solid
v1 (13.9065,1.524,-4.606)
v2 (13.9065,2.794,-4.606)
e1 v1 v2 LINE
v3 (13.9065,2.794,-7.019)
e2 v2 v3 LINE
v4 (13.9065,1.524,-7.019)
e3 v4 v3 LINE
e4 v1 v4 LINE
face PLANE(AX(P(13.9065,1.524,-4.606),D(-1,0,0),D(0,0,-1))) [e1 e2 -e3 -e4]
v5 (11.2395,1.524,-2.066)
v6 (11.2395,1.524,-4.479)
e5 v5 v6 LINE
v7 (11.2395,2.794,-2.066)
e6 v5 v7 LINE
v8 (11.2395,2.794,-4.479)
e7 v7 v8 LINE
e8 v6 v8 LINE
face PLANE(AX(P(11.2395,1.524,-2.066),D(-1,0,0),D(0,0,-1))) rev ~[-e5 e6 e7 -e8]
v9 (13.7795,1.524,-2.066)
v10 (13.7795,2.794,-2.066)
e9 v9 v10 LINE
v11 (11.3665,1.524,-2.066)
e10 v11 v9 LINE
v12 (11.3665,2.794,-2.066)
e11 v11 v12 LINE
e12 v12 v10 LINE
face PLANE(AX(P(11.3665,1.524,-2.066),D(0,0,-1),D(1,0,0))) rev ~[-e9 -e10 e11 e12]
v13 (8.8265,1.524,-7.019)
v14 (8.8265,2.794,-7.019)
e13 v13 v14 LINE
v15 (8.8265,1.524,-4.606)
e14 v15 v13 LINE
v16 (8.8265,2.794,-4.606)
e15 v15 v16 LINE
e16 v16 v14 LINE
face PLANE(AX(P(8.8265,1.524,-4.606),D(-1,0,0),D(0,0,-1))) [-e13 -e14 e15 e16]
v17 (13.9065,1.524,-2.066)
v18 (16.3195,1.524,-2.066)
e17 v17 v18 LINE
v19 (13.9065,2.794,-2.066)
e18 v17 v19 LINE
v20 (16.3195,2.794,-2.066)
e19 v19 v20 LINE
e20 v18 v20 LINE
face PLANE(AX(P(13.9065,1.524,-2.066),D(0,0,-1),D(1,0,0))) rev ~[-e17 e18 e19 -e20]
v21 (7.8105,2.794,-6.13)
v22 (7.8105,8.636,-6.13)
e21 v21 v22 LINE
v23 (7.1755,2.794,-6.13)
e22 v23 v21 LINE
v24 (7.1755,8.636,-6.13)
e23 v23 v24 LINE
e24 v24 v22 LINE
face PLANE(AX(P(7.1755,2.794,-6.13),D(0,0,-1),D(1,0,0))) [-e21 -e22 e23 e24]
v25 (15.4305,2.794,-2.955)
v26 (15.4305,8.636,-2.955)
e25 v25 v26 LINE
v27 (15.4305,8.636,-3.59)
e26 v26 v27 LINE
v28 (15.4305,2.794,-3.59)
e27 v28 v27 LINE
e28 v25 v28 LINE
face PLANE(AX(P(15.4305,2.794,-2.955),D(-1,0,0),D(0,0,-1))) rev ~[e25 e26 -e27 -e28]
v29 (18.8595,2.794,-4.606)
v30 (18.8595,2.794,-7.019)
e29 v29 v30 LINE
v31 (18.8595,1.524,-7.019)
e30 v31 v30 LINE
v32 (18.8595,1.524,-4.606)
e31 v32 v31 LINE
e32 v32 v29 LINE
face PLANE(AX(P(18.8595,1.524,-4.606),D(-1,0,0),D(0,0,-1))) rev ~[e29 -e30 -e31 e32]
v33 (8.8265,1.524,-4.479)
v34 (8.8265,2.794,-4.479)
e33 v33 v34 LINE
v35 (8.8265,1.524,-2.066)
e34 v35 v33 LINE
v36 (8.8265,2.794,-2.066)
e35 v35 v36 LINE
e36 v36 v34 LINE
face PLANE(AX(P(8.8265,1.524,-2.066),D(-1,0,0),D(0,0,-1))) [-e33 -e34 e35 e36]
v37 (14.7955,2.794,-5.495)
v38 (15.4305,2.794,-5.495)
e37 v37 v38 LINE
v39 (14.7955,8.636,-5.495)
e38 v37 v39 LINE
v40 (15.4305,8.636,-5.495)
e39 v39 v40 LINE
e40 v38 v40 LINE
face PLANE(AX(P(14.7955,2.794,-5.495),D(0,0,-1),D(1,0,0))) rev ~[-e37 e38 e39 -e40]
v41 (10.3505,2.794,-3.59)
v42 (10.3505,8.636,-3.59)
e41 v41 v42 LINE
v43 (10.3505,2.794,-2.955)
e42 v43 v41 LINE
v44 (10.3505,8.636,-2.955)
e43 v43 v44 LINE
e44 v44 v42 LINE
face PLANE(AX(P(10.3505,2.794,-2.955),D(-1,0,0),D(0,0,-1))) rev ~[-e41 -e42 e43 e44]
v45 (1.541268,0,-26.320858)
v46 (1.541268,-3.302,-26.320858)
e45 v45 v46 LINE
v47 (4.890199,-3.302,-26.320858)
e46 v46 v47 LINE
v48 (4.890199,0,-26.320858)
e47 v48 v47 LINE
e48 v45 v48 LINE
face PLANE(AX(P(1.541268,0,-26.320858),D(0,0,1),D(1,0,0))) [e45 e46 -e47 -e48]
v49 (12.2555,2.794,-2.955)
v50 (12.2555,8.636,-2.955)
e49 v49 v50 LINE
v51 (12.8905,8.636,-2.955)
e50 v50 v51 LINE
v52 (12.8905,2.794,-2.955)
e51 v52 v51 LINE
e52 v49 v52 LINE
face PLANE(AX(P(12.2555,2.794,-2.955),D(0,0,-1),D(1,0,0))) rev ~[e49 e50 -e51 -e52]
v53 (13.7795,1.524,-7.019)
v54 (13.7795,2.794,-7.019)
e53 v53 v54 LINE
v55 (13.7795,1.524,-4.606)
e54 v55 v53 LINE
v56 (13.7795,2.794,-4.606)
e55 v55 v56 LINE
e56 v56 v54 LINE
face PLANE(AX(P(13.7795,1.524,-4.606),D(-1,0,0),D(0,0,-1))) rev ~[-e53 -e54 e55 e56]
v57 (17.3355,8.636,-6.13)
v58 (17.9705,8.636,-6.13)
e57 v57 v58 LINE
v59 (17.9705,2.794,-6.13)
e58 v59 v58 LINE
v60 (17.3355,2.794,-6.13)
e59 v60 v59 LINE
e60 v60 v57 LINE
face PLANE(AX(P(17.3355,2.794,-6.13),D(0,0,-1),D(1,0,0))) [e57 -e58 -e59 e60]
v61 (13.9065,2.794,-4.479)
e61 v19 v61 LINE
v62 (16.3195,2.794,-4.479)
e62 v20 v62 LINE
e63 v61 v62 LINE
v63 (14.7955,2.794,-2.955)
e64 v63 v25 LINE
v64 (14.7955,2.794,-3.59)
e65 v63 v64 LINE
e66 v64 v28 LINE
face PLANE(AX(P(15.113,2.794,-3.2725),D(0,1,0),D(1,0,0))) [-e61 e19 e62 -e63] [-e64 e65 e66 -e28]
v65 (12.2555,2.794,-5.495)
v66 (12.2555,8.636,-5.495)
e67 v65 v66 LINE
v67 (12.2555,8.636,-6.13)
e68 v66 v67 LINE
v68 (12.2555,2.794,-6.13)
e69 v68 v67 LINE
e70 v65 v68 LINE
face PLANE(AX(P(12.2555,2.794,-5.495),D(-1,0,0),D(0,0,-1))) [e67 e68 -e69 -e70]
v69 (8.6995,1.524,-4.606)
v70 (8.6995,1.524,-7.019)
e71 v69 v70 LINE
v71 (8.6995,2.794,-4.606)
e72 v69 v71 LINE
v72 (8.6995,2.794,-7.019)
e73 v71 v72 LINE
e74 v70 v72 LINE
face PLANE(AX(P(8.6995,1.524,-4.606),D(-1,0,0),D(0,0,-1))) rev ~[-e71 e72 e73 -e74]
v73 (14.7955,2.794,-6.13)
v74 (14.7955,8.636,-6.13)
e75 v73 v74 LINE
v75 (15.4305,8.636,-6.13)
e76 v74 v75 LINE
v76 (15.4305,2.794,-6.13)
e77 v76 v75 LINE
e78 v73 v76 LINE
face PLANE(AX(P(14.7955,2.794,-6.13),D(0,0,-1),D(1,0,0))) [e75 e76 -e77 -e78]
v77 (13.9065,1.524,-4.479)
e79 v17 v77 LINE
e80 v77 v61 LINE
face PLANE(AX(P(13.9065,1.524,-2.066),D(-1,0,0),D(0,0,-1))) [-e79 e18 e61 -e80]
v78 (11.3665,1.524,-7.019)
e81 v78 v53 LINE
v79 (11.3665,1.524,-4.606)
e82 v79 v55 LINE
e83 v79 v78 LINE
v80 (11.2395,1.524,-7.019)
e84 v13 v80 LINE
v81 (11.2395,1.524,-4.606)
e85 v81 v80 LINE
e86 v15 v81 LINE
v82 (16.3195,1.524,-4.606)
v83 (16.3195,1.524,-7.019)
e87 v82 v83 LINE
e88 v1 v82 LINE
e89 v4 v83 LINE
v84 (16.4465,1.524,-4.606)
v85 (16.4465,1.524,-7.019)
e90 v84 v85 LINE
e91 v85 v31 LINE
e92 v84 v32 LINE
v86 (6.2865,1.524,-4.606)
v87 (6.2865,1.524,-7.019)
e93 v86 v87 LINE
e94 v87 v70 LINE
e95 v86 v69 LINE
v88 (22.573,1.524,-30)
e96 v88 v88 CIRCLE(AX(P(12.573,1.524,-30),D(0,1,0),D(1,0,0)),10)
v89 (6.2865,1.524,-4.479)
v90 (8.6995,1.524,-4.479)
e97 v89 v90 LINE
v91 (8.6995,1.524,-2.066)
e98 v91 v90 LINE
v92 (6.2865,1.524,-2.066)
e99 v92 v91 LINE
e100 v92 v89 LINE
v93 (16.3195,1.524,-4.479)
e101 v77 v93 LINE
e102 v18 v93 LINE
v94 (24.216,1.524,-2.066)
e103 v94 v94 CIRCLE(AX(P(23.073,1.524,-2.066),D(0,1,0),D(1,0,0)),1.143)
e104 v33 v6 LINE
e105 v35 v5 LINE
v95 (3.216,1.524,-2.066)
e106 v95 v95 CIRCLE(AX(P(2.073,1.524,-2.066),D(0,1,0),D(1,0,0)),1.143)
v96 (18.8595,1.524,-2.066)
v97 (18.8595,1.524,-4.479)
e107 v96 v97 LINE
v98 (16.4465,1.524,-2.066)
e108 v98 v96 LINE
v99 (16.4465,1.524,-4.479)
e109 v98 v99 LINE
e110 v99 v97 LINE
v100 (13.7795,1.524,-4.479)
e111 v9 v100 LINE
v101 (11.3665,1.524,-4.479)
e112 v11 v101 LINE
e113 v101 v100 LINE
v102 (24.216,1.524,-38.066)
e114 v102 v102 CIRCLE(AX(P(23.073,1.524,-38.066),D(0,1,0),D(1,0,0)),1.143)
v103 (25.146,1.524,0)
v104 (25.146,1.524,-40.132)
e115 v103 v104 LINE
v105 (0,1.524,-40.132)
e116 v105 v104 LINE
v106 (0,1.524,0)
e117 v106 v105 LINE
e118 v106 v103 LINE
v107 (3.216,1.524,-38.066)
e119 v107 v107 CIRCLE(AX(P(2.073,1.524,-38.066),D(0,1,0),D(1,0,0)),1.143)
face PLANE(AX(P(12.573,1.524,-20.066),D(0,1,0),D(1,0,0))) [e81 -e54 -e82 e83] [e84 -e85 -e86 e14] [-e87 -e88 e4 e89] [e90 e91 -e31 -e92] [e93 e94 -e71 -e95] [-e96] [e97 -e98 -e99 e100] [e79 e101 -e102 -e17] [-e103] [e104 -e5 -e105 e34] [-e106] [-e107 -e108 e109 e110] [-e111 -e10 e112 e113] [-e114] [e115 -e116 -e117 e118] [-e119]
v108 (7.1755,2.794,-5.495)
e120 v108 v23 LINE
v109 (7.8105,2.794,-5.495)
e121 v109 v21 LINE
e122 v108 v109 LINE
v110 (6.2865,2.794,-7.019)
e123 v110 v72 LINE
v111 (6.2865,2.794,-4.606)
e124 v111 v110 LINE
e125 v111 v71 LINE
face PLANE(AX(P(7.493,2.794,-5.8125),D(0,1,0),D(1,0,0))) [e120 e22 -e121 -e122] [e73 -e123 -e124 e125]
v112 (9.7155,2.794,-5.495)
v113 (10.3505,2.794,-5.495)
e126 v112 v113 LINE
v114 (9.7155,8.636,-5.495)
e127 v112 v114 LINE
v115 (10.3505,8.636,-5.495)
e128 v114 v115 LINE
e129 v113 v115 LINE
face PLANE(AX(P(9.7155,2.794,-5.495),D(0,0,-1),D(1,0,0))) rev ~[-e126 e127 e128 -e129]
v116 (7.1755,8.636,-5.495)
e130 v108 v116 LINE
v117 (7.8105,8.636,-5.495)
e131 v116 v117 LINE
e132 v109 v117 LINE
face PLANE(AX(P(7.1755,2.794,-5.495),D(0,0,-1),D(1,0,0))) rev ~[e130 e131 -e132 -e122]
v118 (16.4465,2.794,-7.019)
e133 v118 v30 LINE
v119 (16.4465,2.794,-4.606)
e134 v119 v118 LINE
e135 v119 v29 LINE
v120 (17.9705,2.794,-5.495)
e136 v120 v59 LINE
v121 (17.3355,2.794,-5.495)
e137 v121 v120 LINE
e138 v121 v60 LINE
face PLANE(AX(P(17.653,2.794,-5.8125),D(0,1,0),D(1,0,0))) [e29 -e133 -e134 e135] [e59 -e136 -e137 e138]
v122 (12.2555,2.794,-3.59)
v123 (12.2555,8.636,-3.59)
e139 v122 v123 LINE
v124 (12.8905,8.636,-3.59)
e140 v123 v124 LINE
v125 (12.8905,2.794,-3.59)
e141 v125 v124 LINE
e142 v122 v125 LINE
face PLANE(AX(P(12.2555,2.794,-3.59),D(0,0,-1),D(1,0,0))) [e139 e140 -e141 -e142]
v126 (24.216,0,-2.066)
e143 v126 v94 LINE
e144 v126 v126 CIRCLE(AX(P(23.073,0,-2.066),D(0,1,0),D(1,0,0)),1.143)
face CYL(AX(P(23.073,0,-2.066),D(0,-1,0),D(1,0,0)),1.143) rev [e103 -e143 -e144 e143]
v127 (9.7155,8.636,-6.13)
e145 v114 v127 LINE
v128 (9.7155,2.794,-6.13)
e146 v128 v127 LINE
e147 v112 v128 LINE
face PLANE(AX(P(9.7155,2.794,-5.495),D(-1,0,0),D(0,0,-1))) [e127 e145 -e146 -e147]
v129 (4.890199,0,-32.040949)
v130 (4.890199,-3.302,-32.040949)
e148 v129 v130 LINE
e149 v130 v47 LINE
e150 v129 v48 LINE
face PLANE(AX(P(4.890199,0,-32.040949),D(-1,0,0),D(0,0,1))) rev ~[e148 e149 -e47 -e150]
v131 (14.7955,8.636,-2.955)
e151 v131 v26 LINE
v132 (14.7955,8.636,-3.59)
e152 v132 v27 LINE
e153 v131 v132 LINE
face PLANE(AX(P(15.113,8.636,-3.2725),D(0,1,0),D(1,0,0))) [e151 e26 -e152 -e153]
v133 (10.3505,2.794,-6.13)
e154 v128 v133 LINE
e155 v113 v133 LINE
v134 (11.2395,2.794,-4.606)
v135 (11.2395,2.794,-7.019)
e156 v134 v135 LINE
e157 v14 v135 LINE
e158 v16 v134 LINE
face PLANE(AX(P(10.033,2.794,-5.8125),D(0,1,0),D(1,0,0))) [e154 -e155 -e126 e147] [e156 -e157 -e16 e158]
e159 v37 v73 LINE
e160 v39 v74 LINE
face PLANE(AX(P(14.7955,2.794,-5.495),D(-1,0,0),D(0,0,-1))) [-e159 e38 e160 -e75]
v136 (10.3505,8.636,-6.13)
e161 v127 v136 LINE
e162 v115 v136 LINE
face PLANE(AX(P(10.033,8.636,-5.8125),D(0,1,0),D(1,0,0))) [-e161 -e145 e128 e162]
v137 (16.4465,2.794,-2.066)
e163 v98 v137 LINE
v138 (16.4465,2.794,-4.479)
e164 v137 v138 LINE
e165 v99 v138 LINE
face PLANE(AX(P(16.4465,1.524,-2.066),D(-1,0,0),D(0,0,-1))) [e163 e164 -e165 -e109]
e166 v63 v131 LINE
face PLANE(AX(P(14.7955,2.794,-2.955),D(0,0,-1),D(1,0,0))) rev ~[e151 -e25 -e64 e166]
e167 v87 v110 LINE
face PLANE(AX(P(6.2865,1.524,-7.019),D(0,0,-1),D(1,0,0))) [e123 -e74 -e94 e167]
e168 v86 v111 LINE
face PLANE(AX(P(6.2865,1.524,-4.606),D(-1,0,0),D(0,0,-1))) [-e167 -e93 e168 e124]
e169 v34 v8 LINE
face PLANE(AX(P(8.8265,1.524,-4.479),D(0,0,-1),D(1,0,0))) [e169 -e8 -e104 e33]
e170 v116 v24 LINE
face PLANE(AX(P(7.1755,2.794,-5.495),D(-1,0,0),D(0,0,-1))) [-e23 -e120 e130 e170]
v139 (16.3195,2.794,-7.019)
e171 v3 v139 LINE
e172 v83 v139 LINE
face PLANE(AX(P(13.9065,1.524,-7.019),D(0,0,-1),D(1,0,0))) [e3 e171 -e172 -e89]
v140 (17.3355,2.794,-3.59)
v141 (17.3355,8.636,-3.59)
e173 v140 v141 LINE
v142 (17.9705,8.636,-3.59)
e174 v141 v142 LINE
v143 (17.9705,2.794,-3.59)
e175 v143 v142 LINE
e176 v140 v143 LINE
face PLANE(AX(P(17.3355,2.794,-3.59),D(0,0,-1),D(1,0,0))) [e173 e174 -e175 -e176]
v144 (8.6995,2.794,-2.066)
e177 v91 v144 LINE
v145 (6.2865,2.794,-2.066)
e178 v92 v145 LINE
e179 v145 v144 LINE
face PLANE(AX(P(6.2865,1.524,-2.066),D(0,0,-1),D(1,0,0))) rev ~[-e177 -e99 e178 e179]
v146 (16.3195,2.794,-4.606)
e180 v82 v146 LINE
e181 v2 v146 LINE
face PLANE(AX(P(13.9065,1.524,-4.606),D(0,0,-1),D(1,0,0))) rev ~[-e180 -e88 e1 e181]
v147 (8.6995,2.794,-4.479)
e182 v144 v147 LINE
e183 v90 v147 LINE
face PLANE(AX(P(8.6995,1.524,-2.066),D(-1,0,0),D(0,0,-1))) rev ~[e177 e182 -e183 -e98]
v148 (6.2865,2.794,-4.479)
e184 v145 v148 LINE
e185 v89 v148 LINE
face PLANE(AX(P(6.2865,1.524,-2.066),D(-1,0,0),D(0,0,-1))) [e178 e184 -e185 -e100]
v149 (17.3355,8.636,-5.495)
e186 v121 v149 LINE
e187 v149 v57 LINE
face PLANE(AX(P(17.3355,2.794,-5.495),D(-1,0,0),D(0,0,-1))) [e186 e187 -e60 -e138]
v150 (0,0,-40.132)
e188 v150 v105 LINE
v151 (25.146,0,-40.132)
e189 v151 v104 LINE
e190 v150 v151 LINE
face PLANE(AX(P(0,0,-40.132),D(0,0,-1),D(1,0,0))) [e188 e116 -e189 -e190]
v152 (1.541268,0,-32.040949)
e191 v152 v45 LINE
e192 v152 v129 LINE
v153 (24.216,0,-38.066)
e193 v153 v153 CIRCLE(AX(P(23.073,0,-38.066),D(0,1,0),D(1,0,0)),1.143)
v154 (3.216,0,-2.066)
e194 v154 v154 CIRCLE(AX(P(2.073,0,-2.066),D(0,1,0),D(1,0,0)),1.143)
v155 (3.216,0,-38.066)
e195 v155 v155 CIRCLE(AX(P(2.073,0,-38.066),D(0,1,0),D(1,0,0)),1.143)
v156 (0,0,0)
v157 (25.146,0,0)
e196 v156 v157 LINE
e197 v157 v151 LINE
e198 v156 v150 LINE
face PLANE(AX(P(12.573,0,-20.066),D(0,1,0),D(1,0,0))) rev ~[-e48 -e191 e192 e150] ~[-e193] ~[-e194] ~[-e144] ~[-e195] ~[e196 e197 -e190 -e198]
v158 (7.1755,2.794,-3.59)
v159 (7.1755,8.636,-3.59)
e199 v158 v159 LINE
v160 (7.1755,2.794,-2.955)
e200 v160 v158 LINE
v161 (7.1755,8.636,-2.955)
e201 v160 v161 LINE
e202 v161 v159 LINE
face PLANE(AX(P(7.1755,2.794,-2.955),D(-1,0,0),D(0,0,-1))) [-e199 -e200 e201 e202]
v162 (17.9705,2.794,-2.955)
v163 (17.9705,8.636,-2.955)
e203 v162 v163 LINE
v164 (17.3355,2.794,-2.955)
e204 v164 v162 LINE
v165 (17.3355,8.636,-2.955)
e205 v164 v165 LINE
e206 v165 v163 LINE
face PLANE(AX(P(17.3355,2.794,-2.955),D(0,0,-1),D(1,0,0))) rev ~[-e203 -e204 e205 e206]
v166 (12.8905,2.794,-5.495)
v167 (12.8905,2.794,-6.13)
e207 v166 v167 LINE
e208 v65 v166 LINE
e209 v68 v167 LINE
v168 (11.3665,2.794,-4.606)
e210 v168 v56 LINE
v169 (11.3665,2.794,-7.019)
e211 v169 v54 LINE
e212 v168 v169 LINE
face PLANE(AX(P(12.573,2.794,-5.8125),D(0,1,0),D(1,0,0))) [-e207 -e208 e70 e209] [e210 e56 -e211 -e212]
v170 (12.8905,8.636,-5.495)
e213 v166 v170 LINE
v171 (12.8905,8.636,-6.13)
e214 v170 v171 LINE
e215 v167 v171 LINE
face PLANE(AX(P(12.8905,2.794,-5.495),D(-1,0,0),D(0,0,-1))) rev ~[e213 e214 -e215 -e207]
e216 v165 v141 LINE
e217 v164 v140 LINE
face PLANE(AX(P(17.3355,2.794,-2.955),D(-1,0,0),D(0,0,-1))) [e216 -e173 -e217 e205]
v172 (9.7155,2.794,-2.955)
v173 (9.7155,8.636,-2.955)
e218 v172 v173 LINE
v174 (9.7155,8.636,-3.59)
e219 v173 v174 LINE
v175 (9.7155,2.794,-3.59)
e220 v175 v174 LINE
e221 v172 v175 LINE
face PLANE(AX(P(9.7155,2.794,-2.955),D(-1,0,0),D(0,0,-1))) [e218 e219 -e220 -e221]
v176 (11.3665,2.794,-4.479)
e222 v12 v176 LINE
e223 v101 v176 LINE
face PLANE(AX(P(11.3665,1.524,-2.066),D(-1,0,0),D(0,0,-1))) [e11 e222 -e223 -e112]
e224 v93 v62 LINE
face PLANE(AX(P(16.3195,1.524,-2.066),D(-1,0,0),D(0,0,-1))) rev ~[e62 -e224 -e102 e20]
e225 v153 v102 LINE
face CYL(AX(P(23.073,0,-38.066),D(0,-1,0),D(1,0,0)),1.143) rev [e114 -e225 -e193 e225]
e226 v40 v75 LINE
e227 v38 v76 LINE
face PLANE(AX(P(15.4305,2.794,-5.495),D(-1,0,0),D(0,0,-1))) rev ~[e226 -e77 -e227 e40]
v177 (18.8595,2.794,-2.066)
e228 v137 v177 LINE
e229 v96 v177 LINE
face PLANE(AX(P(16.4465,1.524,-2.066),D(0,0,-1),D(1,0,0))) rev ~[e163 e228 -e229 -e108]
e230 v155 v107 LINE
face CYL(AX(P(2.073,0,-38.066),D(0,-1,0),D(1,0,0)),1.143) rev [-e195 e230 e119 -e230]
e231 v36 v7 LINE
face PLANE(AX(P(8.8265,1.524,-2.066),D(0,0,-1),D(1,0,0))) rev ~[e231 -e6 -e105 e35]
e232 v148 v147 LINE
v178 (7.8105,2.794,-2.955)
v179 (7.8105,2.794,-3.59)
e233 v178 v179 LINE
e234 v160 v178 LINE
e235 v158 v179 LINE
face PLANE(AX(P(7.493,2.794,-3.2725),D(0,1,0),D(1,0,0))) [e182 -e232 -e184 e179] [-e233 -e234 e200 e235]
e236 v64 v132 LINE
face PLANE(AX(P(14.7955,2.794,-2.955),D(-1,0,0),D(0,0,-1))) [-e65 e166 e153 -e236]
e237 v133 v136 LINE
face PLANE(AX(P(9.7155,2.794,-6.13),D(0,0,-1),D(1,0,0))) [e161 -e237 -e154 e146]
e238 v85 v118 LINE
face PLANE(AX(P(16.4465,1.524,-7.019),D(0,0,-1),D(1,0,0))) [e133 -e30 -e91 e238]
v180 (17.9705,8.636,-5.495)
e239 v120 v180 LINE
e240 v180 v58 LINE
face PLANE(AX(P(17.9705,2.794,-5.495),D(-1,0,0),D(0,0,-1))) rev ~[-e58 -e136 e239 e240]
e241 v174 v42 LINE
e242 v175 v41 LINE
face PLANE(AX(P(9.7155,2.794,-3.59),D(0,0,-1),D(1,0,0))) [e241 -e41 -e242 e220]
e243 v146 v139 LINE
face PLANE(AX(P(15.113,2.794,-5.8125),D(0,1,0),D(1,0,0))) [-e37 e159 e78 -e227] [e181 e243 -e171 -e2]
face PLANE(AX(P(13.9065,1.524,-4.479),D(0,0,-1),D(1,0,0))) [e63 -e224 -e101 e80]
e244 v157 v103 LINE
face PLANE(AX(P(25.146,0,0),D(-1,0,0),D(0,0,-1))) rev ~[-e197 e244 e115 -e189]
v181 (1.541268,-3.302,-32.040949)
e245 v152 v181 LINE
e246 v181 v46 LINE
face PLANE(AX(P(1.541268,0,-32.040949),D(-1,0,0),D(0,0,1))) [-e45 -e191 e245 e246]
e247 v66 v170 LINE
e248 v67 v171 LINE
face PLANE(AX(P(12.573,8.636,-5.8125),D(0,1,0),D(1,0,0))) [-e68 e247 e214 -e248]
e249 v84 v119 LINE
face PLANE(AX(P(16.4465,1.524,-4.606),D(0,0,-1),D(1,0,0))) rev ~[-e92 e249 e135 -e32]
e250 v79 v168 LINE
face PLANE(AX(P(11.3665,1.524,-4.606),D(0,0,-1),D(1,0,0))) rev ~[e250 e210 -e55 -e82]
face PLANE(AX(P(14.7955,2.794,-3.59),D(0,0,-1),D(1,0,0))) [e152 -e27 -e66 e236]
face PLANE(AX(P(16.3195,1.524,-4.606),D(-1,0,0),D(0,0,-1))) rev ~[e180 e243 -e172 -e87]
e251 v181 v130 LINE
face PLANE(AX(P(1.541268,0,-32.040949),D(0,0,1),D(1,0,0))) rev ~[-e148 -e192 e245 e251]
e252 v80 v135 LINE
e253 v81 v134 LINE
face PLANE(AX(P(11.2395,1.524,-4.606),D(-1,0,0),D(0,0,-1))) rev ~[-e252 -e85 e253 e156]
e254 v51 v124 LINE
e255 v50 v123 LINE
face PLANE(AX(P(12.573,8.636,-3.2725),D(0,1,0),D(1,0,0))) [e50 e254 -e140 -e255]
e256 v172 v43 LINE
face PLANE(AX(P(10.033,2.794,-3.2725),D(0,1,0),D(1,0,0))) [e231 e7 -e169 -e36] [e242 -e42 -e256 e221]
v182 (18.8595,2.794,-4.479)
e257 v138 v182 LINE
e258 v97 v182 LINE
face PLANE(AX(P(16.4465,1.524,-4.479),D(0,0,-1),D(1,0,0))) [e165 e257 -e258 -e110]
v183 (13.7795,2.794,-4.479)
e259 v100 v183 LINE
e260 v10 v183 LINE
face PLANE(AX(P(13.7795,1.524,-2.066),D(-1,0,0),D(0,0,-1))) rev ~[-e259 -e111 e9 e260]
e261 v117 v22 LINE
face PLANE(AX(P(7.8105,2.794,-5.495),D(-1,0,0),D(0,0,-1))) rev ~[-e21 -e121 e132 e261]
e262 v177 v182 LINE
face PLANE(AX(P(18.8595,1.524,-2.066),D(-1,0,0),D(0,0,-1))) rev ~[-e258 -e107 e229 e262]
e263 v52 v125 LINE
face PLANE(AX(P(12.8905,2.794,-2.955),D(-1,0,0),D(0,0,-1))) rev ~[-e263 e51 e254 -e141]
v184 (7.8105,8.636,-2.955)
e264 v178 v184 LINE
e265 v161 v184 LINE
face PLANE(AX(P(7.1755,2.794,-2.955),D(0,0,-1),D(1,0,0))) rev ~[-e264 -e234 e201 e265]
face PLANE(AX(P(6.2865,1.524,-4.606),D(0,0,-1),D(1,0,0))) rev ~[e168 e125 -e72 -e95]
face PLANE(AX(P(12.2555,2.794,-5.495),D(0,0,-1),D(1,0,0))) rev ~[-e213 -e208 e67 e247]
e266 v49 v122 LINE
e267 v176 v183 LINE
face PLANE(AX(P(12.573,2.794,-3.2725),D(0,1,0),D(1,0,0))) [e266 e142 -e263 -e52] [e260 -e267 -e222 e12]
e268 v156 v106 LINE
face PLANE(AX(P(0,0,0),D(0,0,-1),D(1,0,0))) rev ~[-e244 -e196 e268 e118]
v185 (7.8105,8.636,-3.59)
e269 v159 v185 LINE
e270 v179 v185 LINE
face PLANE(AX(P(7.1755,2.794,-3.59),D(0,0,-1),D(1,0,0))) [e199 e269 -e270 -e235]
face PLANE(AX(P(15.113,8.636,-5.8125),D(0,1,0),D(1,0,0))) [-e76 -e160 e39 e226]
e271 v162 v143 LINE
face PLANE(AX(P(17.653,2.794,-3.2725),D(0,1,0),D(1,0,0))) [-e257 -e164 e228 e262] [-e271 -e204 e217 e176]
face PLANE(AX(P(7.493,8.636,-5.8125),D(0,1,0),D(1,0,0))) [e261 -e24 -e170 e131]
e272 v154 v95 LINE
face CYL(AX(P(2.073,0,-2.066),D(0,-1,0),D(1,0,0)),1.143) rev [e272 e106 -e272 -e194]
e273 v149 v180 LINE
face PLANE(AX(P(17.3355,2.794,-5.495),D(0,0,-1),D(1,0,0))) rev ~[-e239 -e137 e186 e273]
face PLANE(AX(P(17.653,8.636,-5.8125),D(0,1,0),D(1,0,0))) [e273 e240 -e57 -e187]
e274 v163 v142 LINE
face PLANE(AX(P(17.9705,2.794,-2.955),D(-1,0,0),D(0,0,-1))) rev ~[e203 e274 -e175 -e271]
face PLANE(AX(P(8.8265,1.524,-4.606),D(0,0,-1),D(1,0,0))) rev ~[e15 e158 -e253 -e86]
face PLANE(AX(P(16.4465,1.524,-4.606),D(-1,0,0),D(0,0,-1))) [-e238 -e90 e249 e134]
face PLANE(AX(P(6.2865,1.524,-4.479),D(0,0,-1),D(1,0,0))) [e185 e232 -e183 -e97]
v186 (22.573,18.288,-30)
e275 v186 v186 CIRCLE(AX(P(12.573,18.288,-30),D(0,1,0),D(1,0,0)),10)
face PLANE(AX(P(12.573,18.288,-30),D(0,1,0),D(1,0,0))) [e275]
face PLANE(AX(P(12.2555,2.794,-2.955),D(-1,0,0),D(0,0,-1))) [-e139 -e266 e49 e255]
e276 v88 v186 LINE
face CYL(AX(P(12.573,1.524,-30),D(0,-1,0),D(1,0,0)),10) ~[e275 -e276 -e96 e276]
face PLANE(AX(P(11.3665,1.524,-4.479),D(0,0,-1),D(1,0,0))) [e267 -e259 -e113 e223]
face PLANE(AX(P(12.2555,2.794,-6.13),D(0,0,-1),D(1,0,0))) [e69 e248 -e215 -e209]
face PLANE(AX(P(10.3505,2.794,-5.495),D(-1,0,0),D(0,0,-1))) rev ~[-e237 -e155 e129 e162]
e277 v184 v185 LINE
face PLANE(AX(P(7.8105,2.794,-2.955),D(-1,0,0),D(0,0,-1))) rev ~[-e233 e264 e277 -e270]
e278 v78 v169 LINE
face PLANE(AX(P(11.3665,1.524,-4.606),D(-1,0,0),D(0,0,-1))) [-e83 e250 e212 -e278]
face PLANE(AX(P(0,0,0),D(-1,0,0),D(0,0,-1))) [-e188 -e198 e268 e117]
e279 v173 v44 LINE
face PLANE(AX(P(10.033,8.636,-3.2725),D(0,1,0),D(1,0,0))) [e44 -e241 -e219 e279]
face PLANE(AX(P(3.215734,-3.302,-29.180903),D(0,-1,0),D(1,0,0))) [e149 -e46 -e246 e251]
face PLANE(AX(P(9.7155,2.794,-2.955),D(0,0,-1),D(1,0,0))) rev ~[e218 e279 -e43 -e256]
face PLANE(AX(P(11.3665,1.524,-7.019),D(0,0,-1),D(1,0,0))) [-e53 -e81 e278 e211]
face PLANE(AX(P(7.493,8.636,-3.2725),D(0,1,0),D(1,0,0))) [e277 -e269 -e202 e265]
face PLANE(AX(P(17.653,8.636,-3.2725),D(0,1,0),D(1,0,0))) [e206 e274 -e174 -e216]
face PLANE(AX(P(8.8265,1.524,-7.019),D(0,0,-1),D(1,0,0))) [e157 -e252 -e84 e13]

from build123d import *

# Parameters (mm, degrees)
SKETCH1_W           = 25.146
SKETCH1_H           = 40.132
SKETCH1_R           = 1.143
BOSS_EXTRUDE1_DEPTH = 1.524
SKETCH2_R           = 10
BOSS_EXTRUDE2_DEPTH = 16.764
SKETCH3_W           = 2.413
SKETCH3_H           = 2.413
BOSS_EXTRUDE3_DEPTH = 1.27
SKETCH4_W           = 0.635
SKETCH4_H           = 0.635
BOSS_EXTRUDE4_DEPTH = 5.842
SKETCH5_W           = 3.348930747
SKETCH5_H           = 5.720091757
BOSS_EXTRUDE5_DEPTH = 3.302


with BuildPart() as part:
    # Sketch1 → Boss-Extrude1 (new body)
    with BuildSketch(Plane(origin=(0, 0, 0), x_dir=(1, 0, 0), z_dir=(0, 1, 0))):
        with Locations((12.573, 20.066)):
            Rectangle(SKETCH1_W, SKETCH1_H)
        with Locations((2.073, 38.066)):
            Circle(SKETCH1_R, mode=Mode.SUBTRACT)
        with Locations((23.073, 38.066)):
            Circle(SKETCH1_R, mode=Mode.SUBTRACT)
        with Locations((23.073, 2.066)):
            Circle(SKETCH1_R, mode=Mode.SUBTRACT)
        with Locations((2.073, 2.066)):
            Circle(SKETCH1_R, mode=Mode.SUBTRACT)
    extrude(amount=BOSS_EXTRUDE1_DEPTH)

    # Sketch2 → Boss-Extrude2 (add)
    with BuildSketch(Plane(origin=(0, 1.524, 0), x_dir=(1, 0, 0), z_dir=(0, 1, 0))):
        with Locations((12.573, 30)):
            Circle(SKETCH2_R)
    extrude(amount=BOSS_EXTRUDE2_DEPTH)

    # Sketch3 → Boss-Extrude3 (add)
    with BuildSketch(Plane(origin=(0, 1.524, 0), x_dir=(1, 0, 0), z_dir=(0, 1, 0))):
        with Locations((7.493, 3.2725)):
            Rectangle(SKETCH3_W, SKETCH3_H)
        with Locations((10.033, 3.2725)):
            Rectangle(SKETCH3_W, SKETCH3_H)
        with Locations((12.573, 3.2725)):
            Rectangle(SKETCH3_W, SKETCH3_H)
        with Locations((15.113, 3.2725)):
            Rectangle(SKETCH3_W, SKETCH3_H)
        with Locations((17.653, 3.2725)):
            Rectangle(SKETCH3_W, SKETCH3_H)
        with Locations((7.493, 5.8125)):
            Rectangle(SKETCH3_W, SKETCH3_H)
        with Locations((10.033, 5.8125)):
            Rectangle(SKETCH3_W, SKETCH3_H)
        with Locations((12.573, 5.8125)):
            Rectangle(SKETCH3_W, SKETCH3_H)
        with Locations((15.113, 5.8125)):
            Rectangle(SKETCH3_W, SKETCH3_H)
        with Locations((17.653, 5.8125)):
            Rectangle(SKETCH3_W, SKETCH3_H)
    extrude(amount=BOSS_EXTRUDE3_DEPTH)

    # Sketch4 → Boss-Extrude4 (add)
    with BuildSketch(Plane(origin=(0, 2.794, 0), x_dir=(1, 0, 0), z_dir=(0, 1, 0))):
        with Locations((10.033, 3.2725)):
            Rectangle(SKETCH4_W, SKETCH4_H)
        with Locations((7.493, 3.2725)):
            Rectangle(SKETCH4_W, SKETCH4_H)
        with Locations((12.573, 3.2725)):
            Rectangle(SKETCH4_W, SKETCH4_H)
        with Locations((15.113, 3.2725)):
            Rectangle(SKETCH4_W, SKETCH4_H)
        with Locations((17.653, 3.2725)):
            Rectangle(SKETCH4_W, SKETCH4_H)
        with Locations((10.033, 5.8125)):
            Rectangle(SKETCH4_W, SKETCH4_H)
        with Locations((12.573, 5.8125)):
            Rectangle(SKETCH4_W, SKETCH4_H)
        with Locations((15.113, 5.8125)):
            Rectangle(SKETCH4_W, SKETCH4_H)
        with Locations((17.653, 5.8125)):
            Rectangle(SKETCH4_W, SKETCH4_H)
        with Locations((7.493, 5.8125)):
            Rectangle(SKETCH4_W, SKETCH4_H)
    extrude(amount=BOSS_EXTRUDE4_DEPTH)

    # Sketch5 → Boss-Extrude5 (add)
    with BuildSketch(Plane.XZ):
        with Locations((3.215733766, -29.18090344)):
            Rectangle(SKETCH5_W, SKETCH5_H)
    extrude(amount=BOSS_EXTRUDE5_DEPTH)


solid = part.part
